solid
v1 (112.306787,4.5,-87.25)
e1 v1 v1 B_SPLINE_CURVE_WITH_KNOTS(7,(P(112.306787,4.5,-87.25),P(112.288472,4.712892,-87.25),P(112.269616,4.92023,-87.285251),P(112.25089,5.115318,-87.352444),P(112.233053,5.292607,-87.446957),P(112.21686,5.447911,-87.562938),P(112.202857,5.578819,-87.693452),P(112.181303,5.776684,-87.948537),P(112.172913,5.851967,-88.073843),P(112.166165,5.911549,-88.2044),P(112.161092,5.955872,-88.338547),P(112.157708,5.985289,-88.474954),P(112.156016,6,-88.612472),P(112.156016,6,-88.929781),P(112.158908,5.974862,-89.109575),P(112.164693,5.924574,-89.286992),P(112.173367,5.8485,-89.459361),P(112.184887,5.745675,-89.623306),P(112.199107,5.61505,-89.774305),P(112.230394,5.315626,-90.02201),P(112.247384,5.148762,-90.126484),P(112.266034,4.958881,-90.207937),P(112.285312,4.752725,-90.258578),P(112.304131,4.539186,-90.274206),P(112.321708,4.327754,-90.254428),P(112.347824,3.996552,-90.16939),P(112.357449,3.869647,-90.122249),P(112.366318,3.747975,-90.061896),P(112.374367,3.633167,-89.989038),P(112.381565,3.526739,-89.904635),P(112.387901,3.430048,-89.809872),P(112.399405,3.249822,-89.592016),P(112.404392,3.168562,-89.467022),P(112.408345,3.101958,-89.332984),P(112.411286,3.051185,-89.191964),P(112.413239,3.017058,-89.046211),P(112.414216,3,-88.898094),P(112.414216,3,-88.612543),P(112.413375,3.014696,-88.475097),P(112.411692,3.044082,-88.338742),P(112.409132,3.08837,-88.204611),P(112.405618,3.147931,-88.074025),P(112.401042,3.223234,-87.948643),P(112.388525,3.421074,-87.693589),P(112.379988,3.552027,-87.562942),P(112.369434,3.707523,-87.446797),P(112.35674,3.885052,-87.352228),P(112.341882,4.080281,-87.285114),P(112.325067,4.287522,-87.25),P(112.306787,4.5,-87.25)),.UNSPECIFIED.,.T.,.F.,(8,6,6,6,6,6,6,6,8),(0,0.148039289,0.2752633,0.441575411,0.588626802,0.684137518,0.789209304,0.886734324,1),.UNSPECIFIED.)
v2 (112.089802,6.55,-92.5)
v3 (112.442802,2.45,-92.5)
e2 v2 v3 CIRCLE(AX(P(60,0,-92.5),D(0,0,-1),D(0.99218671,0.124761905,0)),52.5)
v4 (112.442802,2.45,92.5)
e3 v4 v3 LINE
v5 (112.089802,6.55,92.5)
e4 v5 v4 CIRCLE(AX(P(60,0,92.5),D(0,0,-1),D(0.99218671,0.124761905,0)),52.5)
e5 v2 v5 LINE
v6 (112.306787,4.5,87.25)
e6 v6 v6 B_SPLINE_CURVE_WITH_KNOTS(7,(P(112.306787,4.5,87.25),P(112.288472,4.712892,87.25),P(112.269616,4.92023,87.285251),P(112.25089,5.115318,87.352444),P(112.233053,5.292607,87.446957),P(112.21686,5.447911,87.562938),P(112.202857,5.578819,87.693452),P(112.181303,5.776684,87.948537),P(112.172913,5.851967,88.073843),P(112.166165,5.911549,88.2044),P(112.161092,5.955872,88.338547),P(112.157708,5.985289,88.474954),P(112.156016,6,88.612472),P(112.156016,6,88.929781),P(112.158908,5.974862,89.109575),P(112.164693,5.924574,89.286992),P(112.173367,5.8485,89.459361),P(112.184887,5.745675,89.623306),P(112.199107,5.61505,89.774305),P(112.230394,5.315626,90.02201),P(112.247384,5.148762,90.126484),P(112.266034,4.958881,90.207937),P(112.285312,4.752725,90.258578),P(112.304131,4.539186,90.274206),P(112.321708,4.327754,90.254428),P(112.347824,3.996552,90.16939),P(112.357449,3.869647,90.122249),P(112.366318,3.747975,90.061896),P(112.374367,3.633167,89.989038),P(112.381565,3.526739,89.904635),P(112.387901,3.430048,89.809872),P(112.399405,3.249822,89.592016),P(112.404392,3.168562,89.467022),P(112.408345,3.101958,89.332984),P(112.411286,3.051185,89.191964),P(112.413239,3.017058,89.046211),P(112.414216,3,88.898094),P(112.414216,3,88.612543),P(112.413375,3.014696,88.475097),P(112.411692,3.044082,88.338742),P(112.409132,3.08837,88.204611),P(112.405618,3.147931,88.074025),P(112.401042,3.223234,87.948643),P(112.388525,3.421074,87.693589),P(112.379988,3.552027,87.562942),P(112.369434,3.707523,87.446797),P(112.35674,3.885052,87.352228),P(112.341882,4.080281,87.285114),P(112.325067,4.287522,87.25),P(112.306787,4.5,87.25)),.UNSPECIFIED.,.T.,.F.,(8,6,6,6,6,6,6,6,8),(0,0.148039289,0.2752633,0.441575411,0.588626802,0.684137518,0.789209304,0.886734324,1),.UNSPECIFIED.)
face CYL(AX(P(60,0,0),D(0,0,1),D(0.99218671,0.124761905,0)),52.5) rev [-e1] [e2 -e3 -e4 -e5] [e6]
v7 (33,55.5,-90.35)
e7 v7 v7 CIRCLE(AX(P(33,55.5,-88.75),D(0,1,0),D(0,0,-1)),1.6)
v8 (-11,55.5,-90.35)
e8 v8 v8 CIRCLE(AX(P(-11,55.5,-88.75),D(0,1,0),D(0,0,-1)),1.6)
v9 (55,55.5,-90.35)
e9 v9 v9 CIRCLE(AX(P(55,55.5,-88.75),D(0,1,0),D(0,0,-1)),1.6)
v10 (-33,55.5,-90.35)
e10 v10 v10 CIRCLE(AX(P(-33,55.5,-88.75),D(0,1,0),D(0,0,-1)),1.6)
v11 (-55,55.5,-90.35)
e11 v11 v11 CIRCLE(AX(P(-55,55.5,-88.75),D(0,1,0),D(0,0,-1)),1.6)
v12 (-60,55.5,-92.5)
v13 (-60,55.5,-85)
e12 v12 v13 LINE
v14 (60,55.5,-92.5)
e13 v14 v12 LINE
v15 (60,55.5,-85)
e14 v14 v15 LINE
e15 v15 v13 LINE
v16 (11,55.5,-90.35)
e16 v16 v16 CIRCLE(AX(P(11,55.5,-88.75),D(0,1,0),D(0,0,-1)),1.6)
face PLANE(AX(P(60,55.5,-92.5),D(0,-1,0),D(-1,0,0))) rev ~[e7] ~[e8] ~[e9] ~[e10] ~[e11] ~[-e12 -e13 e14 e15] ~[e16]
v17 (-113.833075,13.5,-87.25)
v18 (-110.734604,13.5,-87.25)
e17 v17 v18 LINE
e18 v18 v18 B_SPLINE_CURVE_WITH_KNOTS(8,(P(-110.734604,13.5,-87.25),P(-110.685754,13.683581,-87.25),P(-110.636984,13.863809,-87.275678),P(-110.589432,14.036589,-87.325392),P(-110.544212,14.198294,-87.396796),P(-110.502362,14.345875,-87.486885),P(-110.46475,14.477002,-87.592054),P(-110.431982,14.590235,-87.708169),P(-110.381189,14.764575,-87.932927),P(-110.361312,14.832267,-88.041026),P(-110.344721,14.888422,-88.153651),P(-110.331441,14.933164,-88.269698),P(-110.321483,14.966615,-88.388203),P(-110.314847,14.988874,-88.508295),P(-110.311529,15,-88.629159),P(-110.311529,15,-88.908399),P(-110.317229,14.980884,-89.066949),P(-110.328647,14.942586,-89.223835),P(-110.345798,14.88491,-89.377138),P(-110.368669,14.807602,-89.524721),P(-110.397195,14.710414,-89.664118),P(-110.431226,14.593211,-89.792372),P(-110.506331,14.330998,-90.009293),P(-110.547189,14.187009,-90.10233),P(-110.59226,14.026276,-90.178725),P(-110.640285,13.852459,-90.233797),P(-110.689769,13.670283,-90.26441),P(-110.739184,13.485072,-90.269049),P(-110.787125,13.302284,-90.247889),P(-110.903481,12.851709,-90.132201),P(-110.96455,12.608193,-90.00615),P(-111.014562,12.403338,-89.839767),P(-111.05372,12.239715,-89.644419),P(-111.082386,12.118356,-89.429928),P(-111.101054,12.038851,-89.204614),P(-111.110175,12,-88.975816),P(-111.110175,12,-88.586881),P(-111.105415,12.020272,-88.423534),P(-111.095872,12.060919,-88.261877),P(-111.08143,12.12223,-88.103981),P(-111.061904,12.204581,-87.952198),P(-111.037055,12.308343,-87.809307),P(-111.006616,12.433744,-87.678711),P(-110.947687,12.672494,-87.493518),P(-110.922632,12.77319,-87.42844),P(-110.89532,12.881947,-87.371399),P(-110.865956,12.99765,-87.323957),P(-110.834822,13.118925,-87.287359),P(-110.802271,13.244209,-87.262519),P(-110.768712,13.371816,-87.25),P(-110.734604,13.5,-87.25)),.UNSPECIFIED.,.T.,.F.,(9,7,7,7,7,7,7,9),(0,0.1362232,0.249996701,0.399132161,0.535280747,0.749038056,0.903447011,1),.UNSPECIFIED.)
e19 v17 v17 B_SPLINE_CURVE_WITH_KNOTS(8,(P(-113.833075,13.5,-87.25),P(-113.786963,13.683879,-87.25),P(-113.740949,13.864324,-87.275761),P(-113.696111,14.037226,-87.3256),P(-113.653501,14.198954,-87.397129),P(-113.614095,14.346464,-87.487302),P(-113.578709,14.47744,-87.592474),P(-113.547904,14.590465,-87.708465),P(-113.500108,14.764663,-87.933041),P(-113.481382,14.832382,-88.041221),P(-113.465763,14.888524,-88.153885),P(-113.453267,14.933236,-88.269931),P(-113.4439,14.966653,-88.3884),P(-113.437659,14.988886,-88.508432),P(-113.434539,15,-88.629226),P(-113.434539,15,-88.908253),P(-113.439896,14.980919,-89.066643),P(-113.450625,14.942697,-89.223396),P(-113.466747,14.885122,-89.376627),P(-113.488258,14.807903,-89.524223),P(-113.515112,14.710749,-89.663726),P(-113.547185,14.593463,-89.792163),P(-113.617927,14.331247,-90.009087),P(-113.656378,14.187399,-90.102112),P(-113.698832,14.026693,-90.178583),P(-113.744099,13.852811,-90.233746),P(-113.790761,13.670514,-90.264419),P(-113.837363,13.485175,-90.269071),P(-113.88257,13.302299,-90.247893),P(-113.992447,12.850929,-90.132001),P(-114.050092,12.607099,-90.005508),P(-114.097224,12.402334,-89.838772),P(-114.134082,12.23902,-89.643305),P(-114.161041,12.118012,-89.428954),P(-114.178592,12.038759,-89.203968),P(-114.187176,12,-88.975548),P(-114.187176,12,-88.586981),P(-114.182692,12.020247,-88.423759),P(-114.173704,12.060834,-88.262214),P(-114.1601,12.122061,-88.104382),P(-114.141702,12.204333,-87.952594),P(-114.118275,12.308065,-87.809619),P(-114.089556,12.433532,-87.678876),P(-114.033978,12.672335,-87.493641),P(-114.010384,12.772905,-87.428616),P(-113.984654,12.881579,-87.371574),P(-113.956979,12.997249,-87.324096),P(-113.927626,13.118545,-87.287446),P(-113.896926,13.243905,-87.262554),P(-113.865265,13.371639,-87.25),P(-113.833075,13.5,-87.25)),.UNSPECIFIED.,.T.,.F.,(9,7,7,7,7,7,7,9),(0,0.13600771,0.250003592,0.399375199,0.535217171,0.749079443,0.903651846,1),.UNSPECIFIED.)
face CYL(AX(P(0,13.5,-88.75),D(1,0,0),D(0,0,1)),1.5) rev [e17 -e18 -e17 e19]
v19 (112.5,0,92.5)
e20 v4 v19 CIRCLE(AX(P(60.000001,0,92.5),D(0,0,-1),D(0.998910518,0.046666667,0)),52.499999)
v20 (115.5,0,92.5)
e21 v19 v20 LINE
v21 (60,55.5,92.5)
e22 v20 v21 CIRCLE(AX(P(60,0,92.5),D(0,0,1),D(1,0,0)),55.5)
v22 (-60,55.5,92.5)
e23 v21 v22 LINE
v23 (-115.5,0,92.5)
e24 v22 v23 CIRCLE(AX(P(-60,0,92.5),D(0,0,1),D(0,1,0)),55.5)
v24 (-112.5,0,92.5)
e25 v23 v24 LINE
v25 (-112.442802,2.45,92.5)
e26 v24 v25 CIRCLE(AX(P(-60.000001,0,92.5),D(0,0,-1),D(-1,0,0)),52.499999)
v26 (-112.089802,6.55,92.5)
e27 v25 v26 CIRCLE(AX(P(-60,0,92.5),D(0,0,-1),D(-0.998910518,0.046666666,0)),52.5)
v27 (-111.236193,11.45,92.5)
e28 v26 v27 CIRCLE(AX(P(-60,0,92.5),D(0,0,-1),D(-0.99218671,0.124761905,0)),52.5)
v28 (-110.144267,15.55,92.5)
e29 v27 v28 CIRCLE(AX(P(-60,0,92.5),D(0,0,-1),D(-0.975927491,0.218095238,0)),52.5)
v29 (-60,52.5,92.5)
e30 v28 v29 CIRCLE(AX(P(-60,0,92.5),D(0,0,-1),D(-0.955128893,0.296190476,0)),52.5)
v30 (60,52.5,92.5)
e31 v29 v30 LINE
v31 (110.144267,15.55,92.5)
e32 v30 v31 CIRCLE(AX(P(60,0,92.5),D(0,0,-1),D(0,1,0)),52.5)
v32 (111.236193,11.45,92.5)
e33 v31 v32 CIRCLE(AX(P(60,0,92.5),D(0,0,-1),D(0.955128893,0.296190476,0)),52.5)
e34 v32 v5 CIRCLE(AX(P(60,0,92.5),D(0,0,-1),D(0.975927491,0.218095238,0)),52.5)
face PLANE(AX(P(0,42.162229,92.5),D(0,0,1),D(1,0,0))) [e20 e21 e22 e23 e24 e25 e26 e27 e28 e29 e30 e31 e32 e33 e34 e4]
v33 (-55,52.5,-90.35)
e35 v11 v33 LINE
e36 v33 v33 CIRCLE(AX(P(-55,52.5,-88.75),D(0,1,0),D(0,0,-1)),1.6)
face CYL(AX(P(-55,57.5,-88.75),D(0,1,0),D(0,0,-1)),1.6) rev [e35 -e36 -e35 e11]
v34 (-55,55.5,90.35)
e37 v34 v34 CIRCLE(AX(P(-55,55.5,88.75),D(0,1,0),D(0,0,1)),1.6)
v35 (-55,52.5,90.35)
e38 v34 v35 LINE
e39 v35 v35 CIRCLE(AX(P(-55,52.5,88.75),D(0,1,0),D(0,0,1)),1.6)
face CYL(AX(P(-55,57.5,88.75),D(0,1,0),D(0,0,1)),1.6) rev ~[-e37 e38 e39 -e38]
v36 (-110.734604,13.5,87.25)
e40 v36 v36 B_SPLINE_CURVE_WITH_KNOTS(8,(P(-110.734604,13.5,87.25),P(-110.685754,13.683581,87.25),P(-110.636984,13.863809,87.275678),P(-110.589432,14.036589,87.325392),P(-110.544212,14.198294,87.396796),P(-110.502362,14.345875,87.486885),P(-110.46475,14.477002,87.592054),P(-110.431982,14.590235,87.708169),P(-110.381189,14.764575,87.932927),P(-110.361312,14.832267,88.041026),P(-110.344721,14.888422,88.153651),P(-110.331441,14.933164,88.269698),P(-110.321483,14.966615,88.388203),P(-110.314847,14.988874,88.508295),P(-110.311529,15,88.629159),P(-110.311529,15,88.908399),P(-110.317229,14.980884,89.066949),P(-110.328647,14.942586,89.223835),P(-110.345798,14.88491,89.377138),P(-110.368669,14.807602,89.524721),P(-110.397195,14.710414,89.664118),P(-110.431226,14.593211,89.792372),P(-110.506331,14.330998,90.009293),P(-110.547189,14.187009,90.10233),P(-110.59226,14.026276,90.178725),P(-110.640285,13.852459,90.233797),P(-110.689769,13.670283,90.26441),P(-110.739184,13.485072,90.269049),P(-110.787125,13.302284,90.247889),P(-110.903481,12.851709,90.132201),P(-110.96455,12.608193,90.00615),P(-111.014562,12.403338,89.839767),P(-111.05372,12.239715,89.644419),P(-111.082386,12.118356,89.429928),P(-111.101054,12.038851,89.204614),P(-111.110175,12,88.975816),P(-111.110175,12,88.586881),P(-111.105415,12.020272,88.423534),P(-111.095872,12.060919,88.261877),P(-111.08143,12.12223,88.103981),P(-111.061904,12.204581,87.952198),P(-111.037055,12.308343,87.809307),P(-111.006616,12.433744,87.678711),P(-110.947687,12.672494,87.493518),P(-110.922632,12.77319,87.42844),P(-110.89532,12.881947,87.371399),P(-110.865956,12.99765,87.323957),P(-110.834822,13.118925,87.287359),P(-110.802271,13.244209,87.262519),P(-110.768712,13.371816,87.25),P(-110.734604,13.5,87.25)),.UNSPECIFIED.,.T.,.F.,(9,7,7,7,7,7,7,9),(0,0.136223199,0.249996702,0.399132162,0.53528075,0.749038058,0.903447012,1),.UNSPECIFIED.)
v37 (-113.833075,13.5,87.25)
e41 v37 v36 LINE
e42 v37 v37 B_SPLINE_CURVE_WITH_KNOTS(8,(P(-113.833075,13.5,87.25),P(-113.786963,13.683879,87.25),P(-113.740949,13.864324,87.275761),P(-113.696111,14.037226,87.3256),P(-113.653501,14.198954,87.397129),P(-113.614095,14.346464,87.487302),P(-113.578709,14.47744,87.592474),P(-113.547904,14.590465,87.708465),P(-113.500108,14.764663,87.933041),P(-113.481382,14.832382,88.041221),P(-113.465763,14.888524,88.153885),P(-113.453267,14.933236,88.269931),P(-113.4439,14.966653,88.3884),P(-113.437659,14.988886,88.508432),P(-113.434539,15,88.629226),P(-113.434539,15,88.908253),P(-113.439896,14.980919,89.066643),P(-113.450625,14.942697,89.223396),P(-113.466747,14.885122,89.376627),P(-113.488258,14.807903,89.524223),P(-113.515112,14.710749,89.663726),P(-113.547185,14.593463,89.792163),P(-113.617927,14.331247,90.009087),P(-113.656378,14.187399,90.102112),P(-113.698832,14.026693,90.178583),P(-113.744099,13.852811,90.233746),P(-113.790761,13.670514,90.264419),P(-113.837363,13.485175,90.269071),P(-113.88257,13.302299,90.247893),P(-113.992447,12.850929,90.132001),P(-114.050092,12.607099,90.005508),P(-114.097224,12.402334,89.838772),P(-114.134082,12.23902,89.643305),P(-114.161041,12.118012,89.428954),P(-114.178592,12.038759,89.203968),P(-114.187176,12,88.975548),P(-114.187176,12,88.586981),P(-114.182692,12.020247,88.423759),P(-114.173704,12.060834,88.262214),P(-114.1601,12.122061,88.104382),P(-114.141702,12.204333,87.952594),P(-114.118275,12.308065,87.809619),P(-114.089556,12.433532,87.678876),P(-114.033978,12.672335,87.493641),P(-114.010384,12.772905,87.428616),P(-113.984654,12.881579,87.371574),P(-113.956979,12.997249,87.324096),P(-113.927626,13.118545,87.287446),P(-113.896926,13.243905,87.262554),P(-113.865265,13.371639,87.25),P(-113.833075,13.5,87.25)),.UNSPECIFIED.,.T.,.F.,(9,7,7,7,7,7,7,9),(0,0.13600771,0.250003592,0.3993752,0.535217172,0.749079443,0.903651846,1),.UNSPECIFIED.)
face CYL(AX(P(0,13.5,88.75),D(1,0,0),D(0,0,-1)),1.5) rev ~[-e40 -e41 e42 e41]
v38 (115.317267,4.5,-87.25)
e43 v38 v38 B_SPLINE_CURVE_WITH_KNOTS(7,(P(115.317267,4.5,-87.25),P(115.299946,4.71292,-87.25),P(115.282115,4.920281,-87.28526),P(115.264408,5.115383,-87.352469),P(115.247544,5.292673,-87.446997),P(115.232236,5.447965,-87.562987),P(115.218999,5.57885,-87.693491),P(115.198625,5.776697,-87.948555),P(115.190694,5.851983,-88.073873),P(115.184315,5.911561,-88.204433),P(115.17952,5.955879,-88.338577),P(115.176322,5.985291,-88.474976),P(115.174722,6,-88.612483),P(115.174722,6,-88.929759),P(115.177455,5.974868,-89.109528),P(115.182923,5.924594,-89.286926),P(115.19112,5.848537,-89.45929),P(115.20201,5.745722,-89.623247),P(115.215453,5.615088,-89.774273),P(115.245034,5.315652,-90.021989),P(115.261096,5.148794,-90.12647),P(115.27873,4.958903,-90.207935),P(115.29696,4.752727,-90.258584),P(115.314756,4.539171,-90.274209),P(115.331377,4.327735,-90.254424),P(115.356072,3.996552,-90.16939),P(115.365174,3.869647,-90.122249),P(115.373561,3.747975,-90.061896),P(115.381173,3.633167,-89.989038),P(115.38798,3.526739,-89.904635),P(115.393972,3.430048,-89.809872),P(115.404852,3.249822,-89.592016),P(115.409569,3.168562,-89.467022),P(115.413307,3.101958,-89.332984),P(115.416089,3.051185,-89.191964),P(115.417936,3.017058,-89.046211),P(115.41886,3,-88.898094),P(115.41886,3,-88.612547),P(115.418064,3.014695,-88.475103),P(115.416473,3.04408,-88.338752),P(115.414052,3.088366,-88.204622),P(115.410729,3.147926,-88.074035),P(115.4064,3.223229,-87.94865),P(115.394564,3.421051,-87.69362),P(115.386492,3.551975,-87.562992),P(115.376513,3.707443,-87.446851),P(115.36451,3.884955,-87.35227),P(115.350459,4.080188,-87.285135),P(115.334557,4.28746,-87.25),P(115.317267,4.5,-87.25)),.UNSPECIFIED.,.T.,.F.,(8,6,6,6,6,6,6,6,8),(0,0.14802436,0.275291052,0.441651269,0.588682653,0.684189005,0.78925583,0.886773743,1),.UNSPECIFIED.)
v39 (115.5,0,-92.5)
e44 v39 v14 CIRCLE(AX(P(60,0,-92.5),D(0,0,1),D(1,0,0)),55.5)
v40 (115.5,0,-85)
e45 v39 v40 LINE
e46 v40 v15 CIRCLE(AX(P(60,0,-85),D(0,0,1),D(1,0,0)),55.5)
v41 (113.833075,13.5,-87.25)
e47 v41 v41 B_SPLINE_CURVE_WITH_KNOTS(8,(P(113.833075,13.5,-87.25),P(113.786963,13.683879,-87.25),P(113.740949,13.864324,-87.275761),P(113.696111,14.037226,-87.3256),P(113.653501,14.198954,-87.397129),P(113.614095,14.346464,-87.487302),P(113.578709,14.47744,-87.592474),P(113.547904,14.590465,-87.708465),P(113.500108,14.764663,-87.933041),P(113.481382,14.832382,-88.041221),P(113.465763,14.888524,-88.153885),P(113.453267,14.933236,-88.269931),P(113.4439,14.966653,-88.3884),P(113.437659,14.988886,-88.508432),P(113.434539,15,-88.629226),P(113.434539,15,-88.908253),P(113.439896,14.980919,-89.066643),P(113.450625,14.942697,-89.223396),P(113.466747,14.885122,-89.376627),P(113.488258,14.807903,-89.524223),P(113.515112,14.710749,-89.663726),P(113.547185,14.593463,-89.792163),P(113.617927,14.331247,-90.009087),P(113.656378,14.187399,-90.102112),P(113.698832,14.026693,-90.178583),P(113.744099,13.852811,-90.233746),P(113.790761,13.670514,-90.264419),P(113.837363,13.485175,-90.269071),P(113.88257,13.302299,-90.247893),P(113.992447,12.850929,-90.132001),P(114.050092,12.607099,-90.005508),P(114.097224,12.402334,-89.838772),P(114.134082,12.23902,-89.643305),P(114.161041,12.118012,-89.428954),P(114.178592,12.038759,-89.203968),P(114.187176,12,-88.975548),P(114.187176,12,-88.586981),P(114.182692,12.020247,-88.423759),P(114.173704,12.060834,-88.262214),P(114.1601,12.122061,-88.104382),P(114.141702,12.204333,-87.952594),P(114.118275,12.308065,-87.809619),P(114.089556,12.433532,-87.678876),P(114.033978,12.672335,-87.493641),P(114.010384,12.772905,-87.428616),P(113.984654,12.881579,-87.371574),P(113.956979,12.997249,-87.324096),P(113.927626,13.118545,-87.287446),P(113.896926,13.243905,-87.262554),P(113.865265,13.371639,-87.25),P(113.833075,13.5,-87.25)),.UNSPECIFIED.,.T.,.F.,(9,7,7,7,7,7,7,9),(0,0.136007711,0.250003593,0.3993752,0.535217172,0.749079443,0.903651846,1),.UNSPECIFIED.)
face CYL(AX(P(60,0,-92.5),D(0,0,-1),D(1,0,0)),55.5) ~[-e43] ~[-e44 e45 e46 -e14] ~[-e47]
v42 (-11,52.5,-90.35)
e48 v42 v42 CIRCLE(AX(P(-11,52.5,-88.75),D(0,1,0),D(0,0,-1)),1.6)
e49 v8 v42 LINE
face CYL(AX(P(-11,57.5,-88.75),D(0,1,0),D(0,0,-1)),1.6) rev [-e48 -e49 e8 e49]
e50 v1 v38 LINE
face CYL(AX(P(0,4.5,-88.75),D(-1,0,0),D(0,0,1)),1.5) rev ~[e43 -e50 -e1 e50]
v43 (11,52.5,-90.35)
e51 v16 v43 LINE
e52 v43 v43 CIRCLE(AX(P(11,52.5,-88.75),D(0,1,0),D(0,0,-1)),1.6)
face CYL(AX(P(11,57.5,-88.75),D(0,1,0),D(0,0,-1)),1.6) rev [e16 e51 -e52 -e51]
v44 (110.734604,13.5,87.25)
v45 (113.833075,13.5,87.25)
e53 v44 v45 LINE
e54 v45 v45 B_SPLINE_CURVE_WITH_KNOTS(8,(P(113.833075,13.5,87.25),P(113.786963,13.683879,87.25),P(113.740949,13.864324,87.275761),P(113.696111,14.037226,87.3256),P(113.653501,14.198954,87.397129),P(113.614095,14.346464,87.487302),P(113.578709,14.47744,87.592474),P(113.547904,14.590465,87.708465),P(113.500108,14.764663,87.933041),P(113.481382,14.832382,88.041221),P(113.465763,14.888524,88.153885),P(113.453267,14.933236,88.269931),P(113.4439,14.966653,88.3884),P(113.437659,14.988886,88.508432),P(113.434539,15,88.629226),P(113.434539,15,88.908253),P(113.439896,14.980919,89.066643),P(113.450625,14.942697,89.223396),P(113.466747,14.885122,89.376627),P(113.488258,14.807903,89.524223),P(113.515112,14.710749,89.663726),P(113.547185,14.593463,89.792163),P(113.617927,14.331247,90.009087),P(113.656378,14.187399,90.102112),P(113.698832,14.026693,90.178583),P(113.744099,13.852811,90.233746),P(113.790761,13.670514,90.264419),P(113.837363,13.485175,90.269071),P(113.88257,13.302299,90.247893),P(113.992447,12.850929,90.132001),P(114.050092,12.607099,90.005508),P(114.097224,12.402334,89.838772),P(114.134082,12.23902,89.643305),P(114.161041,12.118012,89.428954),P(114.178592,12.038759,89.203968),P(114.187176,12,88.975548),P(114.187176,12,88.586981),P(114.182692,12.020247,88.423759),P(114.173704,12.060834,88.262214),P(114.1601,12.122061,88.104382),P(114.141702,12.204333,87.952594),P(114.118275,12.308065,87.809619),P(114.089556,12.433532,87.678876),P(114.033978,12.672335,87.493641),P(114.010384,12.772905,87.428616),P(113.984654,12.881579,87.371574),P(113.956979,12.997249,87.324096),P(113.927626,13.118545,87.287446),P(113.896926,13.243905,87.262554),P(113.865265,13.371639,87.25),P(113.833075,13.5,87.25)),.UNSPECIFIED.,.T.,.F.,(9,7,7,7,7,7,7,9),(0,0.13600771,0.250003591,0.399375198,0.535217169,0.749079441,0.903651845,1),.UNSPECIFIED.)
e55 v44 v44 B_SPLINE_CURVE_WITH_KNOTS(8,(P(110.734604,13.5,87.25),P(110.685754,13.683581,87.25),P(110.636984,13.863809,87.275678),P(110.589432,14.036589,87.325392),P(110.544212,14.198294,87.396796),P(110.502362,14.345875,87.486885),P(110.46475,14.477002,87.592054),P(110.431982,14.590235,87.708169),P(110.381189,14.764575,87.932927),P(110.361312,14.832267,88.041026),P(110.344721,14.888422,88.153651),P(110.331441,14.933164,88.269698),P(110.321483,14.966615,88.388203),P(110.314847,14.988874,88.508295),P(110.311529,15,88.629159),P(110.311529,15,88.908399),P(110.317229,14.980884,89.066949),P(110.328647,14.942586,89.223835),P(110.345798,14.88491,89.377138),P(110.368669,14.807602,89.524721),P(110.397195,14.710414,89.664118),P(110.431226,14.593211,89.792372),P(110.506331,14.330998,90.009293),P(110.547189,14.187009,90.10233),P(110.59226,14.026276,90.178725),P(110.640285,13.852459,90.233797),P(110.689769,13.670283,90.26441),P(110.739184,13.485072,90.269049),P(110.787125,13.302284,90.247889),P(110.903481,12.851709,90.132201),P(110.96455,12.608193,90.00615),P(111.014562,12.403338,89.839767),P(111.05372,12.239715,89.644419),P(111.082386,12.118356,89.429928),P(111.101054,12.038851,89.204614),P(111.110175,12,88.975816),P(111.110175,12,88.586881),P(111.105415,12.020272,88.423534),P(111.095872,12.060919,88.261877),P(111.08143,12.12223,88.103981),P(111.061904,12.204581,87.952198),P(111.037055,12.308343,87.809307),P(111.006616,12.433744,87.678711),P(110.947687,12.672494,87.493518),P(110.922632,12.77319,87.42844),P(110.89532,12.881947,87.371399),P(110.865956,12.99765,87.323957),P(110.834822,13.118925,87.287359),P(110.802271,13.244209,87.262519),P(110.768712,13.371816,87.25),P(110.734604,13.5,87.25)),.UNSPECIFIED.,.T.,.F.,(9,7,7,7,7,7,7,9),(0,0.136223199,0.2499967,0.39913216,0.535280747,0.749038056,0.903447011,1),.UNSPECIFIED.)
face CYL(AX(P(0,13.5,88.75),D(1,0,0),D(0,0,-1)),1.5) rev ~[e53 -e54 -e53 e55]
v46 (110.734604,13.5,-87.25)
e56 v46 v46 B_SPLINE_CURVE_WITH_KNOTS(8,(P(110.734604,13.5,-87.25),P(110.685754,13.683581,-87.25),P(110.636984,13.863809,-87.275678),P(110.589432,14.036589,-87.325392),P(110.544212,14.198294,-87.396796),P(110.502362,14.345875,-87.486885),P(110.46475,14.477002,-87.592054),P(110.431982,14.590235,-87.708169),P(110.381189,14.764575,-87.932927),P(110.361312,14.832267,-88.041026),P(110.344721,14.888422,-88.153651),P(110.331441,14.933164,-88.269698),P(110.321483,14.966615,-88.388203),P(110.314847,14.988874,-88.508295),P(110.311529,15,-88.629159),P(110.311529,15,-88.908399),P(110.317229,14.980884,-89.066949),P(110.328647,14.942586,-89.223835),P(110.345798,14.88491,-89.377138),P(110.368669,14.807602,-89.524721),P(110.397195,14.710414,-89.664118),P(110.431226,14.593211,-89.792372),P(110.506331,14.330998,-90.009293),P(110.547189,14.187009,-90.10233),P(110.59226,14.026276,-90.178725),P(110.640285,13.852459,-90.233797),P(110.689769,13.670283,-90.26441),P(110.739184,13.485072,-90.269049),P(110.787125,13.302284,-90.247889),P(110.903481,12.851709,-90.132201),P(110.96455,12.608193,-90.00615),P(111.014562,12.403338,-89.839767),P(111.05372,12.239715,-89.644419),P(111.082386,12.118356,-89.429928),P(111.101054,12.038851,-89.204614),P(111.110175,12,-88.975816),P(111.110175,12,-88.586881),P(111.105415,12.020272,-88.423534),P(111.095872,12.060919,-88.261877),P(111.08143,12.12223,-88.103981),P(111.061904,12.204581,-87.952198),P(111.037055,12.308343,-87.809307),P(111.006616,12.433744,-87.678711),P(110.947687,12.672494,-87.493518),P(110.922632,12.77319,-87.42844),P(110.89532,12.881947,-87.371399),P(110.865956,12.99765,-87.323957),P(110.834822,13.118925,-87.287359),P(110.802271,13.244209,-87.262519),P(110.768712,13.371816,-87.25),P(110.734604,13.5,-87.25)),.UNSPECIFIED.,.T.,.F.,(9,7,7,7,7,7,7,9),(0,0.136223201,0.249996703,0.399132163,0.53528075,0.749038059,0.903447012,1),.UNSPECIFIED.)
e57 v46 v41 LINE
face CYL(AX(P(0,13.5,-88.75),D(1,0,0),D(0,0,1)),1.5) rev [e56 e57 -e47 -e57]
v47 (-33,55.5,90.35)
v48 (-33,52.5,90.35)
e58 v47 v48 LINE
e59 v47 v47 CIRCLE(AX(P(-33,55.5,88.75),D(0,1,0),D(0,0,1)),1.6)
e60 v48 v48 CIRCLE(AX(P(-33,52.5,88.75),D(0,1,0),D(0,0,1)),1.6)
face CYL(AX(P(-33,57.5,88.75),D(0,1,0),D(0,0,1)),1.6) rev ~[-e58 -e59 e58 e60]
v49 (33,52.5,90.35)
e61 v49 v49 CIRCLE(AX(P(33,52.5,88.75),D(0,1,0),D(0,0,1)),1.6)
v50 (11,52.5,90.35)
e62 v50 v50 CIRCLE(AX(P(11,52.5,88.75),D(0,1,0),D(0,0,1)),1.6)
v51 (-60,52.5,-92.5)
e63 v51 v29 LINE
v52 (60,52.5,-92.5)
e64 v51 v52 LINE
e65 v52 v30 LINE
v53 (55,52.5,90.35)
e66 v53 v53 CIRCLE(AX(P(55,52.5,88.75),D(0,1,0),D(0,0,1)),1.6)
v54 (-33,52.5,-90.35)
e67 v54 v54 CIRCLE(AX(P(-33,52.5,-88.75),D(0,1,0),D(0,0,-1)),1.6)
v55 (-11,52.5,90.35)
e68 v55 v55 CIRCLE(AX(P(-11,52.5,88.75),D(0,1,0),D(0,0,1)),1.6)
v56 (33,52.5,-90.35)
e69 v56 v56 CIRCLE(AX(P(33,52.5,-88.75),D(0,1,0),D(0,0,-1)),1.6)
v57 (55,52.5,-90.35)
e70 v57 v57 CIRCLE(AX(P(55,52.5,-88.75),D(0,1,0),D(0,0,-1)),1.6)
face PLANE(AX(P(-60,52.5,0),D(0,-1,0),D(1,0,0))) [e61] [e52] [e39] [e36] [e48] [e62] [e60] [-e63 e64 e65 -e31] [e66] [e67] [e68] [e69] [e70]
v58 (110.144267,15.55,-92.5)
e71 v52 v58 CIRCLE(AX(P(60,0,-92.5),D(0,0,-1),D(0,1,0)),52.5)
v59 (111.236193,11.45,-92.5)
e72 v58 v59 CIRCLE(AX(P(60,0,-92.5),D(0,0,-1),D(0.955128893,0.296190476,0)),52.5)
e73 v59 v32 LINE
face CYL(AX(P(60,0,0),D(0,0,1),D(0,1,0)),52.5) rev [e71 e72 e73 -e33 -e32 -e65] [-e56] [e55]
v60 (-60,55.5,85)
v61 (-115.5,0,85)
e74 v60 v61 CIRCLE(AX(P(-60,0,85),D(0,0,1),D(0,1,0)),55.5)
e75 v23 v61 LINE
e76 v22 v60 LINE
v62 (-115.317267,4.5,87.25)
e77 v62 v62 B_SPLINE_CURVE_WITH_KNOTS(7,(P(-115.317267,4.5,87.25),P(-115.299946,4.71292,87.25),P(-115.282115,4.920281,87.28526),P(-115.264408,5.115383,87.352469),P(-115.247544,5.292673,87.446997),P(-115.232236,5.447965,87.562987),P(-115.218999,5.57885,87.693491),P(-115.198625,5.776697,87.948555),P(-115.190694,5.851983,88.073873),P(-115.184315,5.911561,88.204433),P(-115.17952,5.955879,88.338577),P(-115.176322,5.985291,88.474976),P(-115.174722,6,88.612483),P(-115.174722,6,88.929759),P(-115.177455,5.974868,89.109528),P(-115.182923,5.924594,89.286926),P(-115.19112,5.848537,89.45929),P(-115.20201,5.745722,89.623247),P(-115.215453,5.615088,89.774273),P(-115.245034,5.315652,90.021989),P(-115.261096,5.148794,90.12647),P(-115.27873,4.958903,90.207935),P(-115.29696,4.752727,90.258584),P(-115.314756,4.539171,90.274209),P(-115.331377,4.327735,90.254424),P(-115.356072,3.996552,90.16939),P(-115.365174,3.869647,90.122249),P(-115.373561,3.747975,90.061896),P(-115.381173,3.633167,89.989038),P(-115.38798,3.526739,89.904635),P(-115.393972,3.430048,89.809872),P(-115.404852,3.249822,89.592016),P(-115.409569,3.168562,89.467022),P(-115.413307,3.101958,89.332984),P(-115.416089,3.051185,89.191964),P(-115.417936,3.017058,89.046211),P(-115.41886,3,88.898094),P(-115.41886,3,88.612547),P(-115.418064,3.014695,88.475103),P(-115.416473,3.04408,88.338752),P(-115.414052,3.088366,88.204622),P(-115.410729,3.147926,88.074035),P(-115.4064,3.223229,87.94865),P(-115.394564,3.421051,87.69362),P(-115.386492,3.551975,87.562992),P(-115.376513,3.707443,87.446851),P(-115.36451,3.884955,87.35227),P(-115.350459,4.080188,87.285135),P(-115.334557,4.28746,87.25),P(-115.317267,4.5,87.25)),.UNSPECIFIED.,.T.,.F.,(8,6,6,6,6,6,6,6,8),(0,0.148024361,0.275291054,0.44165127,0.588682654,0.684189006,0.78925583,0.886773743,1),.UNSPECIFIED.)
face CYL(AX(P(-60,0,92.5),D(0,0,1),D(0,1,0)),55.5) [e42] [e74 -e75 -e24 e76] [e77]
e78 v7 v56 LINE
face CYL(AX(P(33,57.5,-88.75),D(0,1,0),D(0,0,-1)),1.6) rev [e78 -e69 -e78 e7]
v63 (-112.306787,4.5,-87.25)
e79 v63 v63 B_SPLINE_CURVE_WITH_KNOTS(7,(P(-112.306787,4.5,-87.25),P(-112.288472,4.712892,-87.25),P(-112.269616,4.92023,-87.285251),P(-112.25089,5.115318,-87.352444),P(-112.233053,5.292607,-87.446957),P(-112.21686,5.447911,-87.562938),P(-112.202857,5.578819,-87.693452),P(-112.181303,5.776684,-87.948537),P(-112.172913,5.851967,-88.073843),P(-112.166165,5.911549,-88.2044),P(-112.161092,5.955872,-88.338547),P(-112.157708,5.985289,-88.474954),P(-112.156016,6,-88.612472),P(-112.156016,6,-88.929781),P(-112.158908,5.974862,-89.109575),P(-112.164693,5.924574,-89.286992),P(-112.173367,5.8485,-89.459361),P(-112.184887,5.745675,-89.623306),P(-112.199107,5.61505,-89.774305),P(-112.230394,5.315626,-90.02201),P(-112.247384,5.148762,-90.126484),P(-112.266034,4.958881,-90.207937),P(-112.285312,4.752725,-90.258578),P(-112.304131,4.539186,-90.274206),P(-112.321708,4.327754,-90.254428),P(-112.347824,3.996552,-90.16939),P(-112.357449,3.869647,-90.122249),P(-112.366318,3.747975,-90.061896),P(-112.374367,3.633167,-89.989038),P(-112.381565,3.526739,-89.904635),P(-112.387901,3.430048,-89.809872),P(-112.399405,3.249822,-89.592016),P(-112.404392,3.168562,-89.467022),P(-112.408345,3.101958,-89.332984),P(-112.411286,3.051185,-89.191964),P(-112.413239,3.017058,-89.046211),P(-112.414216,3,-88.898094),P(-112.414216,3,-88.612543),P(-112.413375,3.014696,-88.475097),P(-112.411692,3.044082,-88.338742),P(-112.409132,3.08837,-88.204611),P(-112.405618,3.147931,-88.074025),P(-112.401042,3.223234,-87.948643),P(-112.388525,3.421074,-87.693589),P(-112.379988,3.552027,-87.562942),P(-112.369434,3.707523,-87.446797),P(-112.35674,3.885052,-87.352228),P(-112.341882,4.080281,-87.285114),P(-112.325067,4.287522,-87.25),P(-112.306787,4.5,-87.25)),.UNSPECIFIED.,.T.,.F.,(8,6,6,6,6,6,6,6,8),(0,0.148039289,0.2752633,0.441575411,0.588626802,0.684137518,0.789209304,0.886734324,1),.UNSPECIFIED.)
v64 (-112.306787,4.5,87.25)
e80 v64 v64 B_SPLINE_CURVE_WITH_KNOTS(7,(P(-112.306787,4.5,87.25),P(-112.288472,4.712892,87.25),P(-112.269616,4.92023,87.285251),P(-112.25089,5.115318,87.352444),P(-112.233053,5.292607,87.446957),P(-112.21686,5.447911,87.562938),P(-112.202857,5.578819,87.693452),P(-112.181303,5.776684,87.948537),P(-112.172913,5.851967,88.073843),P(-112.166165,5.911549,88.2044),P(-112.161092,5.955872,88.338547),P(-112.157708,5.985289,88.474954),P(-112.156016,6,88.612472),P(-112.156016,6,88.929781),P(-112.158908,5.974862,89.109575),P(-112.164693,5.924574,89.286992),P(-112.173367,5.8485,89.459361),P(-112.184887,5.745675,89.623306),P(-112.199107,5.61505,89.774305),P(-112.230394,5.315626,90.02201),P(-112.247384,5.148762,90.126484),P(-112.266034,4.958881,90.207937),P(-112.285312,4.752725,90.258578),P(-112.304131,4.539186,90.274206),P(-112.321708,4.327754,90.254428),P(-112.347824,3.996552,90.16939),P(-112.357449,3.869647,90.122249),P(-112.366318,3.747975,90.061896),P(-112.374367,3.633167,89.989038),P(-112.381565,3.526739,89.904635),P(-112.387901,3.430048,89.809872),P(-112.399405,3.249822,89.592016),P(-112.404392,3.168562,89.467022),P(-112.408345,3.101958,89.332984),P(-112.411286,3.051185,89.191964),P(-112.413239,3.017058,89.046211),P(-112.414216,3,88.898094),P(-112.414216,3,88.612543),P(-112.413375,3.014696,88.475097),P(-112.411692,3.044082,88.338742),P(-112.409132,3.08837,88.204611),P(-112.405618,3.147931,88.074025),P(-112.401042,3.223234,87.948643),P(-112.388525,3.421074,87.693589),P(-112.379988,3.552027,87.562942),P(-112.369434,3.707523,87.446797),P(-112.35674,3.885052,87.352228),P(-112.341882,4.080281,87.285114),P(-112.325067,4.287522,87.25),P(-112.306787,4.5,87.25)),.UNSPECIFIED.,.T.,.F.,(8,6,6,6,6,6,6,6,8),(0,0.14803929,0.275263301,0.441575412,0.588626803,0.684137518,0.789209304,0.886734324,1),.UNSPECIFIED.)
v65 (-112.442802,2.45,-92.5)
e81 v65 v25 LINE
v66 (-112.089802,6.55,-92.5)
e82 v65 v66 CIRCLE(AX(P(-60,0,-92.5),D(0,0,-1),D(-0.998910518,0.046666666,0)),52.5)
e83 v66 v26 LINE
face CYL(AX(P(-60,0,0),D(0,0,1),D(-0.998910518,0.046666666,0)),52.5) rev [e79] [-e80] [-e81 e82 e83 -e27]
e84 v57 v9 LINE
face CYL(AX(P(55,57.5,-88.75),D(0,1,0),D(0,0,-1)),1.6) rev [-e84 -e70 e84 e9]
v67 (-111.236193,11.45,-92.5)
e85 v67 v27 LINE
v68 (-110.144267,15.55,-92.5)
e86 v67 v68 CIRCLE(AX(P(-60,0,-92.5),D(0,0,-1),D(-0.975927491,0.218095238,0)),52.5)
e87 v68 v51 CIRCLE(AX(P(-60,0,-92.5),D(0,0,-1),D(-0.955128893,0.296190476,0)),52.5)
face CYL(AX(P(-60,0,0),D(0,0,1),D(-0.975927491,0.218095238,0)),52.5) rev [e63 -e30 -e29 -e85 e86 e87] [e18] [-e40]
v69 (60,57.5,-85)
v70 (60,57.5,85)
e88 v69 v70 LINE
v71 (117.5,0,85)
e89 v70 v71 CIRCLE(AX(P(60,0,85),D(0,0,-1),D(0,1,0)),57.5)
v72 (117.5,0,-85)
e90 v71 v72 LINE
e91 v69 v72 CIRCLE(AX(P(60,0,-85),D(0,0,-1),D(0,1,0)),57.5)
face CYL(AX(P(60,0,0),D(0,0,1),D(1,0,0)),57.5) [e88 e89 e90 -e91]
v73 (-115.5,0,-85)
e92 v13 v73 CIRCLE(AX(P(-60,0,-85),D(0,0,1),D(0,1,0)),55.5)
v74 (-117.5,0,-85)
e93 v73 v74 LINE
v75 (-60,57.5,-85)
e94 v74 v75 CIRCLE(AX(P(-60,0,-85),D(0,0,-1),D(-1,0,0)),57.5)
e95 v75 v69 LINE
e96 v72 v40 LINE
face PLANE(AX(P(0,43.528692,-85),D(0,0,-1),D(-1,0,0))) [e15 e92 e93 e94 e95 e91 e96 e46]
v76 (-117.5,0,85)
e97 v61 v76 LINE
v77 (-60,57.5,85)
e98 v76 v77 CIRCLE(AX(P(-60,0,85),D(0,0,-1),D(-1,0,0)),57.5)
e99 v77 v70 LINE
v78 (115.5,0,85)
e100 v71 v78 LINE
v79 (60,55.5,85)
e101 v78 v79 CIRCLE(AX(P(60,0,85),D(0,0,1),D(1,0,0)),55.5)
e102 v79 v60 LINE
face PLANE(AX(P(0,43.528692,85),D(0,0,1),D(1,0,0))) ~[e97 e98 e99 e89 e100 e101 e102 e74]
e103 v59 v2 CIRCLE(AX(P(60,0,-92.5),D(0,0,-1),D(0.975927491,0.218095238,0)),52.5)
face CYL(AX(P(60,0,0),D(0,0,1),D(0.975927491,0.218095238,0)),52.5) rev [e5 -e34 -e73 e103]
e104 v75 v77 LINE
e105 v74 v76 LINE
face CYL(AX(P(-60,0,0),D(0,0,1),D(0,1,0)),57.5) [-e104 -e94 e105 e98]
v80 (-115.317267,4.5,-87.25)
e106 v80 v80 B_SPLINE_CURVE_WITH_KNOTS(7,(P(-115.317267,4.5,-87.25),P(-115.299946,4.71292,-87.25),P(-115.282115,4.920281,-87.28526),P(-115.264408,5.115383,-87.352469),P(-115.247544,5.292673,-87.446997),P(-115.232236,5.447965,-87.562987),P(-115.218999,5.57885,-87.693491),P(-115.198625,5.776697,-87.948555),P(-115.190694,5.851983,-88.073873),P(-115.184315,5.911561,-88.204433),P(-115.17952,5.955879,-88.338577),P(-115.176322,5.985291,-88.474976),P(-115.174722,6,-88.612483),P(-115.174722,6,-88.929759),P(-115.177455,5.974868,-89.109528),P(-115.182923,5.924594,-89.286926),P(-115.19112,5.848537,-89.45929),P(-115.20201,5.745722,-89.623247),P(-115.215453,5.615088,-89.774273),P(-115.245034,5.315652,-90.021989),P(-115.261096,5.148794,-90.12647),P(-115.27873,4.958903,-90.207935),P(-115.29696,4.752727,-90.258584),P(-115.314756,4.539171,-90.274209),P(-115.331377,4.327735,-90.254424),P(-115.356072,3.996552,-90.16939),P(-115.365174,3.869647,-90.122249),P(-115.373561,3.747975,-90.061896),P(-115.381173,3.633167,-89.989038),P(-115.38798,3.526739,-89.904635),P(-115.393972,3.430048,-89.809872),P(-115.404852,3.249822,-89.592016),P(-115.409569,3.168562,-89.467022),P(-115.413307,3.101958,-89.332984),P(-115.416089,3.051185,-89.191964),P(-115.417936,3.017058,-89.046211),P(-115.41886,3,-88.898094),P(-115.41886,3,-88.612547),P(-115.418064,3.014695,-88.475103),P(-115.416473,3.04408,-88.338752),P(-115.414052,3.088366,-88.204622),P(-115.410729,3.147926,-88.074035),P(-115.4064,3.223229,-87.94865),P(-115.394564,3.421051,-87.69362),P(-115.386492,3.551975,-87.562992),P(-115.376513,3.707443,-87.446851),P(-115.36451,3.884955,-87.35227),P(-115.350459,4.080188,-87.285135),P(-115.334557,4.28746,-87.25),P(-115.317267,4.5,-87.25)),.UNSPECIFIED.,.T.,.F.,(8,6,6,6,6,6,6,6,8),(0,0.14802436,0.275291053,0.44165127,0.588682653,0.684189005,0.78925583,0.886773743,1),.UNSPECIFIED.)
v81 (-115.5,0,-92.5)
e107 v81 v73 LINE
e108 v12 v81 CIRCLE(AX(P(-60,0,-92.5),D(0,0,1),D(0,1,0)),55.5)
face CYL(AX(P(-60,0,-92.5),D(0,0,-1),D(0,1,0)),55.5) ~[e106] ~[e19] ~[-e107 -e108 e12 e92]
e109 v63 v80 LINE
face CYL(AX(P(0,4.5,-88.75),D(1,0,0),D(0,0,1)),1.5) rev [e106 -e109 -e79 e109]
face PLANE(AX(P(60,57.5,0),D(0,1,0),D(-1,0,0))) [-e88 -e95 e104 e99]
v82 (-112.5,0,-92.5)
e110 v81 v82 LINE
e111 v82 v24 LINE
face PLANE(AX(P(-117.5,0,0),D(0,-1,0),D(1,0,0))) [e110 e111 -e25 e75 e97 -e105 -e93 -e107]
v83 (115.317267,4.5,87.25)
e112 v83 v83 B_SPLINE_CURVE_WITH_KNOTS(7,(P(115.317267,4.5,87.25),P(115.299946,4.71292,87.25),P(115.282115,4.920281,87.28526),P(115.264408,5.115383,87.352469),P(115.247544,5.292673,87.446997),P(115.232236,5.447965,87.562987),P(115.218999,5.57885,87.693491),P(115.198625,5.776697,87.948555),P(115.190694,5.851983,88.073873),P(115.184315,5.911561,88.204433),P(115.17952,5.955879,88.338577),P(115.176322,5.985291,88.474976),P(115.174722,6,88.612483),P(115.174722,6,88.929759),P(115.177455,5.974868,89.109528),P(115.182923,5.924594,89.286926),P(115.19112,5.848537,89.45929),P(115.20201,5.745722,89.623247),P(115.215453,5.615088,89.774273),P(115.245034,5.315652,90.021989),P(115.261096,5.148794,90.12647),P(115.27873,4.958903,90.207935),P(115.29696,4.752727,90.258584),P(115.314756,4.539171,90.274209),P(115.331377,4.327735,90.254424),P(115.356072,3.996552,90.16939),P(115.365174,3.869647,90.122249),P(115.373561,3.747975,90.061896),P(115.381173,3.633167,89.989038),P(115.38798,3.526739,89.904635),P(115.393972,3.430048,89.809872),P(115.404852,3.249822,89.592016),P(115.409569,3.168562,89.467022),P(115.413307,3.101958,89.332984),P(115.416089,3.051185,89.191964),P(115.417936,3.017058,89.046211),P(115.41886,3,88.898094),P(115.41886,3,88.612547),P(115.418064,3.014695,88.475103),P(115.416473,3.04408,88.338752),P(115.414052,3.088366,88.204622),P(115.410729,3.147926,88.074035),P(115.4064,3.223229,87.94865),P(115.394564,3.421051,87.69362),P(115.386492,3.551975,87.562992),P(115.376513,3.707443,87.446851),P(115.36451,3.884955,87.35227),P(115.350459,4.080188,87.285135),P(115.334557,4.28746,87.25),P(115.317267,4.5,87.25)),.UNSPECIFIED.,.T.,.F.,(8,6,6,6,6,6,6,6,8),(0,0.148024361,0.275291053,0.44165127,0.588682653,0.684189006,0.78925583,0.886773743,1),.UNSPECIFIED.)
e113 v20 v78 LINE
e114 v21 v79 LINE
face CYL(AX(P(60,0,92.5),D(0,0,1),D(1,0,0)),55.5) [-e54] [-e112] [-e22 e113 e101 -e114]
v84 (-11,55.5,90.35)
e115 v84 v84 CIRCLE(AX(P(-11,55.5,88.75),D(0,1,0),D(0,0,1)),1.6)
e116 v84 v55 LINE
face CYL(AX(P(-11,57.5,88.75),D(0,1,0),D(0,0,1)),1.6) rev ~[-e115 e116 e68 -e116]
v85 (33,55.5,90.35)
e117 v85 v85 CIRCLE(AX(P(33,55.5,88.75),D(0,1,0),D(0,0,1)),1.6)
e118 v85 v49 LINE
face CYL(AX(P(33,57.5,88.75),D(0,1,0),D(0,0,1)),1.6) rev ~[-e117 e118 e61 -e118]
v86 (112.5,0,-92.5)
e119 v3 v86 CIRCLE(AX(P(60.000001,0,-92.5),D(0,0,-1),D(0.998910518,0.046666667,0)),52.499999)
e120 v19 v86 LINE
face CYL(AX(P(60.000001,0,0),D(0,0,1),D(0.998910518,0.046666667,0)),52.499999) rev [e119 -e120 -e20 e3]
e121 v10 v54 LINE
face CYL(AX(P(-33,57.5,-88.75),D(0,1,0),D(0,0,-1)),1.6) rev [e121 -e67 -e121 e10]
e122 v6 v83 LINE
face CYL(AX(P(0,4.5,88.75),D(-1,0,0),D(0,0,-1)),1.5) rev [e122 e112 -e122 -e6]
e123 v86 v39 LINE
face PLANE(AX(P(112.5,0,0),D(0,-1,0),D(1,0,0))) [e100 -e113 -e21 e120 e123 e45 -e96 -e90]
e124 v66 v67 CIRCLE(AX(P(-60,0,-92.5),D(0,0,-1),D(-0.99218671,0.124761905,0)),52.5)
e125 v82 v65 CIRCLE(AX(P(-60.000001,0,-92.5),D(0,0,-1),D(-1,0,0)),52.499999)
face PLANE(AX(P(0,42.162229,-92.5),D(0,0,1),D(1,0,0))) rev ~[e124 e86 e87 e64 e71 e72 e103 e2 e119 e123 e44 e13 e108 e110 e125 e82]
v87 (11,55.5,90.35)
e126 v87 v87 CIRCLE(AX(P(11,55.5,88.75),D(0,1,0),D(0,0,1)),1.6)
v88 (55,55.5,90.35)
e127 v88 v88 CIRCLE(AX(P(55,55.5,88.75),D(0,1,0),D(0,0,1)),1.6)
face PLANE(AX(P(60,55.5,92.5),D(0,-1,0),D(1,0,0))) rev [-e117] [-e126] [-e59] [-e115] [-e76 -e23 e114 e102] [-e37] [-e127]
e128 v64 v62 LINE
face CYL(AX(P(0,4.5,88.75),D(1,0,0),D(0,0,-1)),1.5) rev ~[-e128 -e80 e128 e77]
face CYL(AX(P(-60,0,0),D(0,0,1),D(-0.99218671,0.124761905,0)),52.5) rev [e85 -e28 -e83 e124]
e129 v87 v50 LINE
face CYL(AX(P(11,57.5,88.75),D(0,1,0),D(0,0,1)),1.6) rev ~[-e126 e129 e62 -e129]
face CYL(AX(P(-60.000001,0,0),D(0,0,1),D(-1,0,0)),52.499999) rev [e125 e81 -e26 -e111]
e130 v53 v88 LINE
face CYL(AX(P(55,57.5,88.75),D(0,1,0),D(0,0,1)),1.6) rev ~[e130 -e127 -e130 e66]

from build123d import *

# Parameters (mm, degrees)
BOSS_EXTRUDE1_DEPTH = 92.5
SKETCH2_R           = 1.5
CUT_EXTRUDE1_DEPTH  = 161.2146997
SKETCH4_R           = 1.6
CUT_EXTRUDE2_DEPTH  = 161.214699867
CUT_EXTRUDE3_DEPTH  = 7.5


with BuildPart() as part:
    # Sketch1 → Boss-Extrude1 (new, symmetric)
    with BuildSketch(Plane.XY):
        with BuildLine():
            ThreePointArc((117.5, 0), (100.658639918, 40.658639918), (60, 57.5))
            Line((60, 57.5), (-60, 57.5))
            ThreePointArc((-60, 57.5), (-100.658639918, 40.658639918), (-117.5, 0))
            Line((-117.5, 0), (-112.5, 0))
            ThreePointArc((-112.5, 0), (-112.485698596, 1.22533379), (-112.442802175, 2.45))
            ThreePointArc((-112.442802175, 2.45), (-112.306489538, 4.503460029), (-112.089802265, 6.55))
            ThreePointArc((-112.089802265, 6.55), (-111.721057974, 9.010114432), (-111.236193262, 11.45))
            ThreePointArc((-111.236193262, 11.45), (-110.731665892, 13.511035335), (-110.144266871, 15.55))
            ThreePointArc((-110.144266871, 15.55), (-91.143819612, 42.264790311), (-60, 52.5))
            Line((-60, 52.5), (-57.05, 52.5))
            Line((-57.05, 52.5), (-52.95, 52.5))
            Line((-52.95, 52.5), (-35.05, 52.5))
            Line((-35.05, 52.5), (-30.95, 52.5))
            Line((-30.95, 52.5), (-13.05, 52.5))
            Line((-13.05, 52.5), (-8.95, 52.5))
            Line((-8.95, 52.5), (8.95, 52.5))
            Line((8.95, 52.5), (13.05, 52.5))
            Line((13.05, 52.5), (30.95, 52.5))
            Line((30.95, 52.5), (35.05, 52.5))
            Line((35.05, 52.5), (52.95, 52.5))
            Line((52.95, 52.5), (57.05, 52.5))
            Line((57.05, 52.5), (60, 52.5))
            ThreePointArc((60, 52.5), (91.143819612, 42.264790311), (110.144266871, 15.55))
            ThreePointArc((110.144266871, 15.55), (110.731665892, 13.511035335), (111.236193262, 11.45))
            ThreePointArc((111.236193262, 11.45), (111.721057974, 9.010114432), (112.089802265, 6.55))
            ThreePointArc((112.089802265, 6.55), (112.306489538, 4.503460029), (112.442802175, 2.45))
            ThreePointArc((112.442802175, 2.45), (112.485698596, 1.22533379), (112.5, 0))
            Line((112.5, 0), (117.5, 0))
        make_face()
    extrude(amount=BOSS_EXTRUDE1_DEPTH, both=True)

    # Sketch2 → Cut-Extrude1 (cut, symmetric)
    with BuildSketch(Plane(origin=(0, 0, 0), x_dir=(0, 0, -1), z_dir=(1, 0, 0))):
        with Locations((-88.75, 4.5)):
            Circle(SKETCH2_R)
        with Locations((-88.75, 13.5)):
            Circle(SKETCH2_R)
    cut_extrude1 = extrude(amount=CUT_EXTRUDE1_DEPTH, both=True, mode=Mode.SUBTRACT)

    # Sketch4 → Cut-Extrude2 (cut, symmetric)
    with BuildSketch(Plane(origin=(0, 57.5, 0), x_dir=(1, 0, 0), z_dir=(0, 1, 0))):
        with Locations(Location((-55, -88.75, 0), (0, 0, 270))):
            Circle(SKETCH4_R)
        with Locations(Location((-33, -88.75, 0), (0, 0, 270))):
            Circle(SKETCH4_R)
        with Locations(Location((-11, -88.75, 0), (0, 0, 270))):
            Circle(SKETCH4_R)
        with Locations(Location((11, -88.75, 0), (0, 0, 270))):
            Circle(SKETCH4_R)
        with Locations(Location((33, -88.75, 0), (0, 0, 270))):
            Circle(SKETCH4_R)
        with Locations(Location((55, -88.75, 0), (0, 0, 270))):
            Circle(SKETCH4_R)
    cut_extrude2 = extrude(amount=CUT_EXTRUDE2_DEPTH, both=True, mode=Mode.SUBTRACT)

    # Sketch5 → Cut-Extrude3 (cut)
    with BuildSketch(Plane(origin=(0, 0, -92.5), x_dir=(-1, 0, 0), z_dir=(0, 0, -1))):
        with BuildLine():
            Line((115.5, 0), (117.5, 0))
            ThreePointArc((117.5, 0), (100.658639918, 40.658639918), (60, 57.5))
            Line((60, 57.5), (-60, 57.5))
            ThreePointArc((-60, 57.5), (-100.658639918, 40.658639918), (-117.5, 0))
            Line((-117.5, 0), (-115.5, 0))
            ThreePointArc((-115.5, 0), (-99.244426356, 39.244426356), (-60, 55.5))
            Line((-60, 55.5), (60, 55.5))
            ThreePointArc((60, 55.5), (99.244426356, 39.244426356), (115.5, 0))
        make_face()
    cut_extrude3 = extrude(amount=-CUT_EXTRUDE3_DEPTH, mode=Mode.SUBTRACT)

    # Mirror1: Cut-Extrude1, Cut-Extrude2, Cut-Extrude3 across plane
    add(cut_extrude1.mirror(Plane.XY), mode=Mode.SUBTRACT)
    add(cut_extrude2.mirror(Plane.XY), mode=Mode.SUBTRACT)
    add(cut_extrude3.mirror(Plane.XY), mode=Mode.SUBTRACT)


solid = part.part
